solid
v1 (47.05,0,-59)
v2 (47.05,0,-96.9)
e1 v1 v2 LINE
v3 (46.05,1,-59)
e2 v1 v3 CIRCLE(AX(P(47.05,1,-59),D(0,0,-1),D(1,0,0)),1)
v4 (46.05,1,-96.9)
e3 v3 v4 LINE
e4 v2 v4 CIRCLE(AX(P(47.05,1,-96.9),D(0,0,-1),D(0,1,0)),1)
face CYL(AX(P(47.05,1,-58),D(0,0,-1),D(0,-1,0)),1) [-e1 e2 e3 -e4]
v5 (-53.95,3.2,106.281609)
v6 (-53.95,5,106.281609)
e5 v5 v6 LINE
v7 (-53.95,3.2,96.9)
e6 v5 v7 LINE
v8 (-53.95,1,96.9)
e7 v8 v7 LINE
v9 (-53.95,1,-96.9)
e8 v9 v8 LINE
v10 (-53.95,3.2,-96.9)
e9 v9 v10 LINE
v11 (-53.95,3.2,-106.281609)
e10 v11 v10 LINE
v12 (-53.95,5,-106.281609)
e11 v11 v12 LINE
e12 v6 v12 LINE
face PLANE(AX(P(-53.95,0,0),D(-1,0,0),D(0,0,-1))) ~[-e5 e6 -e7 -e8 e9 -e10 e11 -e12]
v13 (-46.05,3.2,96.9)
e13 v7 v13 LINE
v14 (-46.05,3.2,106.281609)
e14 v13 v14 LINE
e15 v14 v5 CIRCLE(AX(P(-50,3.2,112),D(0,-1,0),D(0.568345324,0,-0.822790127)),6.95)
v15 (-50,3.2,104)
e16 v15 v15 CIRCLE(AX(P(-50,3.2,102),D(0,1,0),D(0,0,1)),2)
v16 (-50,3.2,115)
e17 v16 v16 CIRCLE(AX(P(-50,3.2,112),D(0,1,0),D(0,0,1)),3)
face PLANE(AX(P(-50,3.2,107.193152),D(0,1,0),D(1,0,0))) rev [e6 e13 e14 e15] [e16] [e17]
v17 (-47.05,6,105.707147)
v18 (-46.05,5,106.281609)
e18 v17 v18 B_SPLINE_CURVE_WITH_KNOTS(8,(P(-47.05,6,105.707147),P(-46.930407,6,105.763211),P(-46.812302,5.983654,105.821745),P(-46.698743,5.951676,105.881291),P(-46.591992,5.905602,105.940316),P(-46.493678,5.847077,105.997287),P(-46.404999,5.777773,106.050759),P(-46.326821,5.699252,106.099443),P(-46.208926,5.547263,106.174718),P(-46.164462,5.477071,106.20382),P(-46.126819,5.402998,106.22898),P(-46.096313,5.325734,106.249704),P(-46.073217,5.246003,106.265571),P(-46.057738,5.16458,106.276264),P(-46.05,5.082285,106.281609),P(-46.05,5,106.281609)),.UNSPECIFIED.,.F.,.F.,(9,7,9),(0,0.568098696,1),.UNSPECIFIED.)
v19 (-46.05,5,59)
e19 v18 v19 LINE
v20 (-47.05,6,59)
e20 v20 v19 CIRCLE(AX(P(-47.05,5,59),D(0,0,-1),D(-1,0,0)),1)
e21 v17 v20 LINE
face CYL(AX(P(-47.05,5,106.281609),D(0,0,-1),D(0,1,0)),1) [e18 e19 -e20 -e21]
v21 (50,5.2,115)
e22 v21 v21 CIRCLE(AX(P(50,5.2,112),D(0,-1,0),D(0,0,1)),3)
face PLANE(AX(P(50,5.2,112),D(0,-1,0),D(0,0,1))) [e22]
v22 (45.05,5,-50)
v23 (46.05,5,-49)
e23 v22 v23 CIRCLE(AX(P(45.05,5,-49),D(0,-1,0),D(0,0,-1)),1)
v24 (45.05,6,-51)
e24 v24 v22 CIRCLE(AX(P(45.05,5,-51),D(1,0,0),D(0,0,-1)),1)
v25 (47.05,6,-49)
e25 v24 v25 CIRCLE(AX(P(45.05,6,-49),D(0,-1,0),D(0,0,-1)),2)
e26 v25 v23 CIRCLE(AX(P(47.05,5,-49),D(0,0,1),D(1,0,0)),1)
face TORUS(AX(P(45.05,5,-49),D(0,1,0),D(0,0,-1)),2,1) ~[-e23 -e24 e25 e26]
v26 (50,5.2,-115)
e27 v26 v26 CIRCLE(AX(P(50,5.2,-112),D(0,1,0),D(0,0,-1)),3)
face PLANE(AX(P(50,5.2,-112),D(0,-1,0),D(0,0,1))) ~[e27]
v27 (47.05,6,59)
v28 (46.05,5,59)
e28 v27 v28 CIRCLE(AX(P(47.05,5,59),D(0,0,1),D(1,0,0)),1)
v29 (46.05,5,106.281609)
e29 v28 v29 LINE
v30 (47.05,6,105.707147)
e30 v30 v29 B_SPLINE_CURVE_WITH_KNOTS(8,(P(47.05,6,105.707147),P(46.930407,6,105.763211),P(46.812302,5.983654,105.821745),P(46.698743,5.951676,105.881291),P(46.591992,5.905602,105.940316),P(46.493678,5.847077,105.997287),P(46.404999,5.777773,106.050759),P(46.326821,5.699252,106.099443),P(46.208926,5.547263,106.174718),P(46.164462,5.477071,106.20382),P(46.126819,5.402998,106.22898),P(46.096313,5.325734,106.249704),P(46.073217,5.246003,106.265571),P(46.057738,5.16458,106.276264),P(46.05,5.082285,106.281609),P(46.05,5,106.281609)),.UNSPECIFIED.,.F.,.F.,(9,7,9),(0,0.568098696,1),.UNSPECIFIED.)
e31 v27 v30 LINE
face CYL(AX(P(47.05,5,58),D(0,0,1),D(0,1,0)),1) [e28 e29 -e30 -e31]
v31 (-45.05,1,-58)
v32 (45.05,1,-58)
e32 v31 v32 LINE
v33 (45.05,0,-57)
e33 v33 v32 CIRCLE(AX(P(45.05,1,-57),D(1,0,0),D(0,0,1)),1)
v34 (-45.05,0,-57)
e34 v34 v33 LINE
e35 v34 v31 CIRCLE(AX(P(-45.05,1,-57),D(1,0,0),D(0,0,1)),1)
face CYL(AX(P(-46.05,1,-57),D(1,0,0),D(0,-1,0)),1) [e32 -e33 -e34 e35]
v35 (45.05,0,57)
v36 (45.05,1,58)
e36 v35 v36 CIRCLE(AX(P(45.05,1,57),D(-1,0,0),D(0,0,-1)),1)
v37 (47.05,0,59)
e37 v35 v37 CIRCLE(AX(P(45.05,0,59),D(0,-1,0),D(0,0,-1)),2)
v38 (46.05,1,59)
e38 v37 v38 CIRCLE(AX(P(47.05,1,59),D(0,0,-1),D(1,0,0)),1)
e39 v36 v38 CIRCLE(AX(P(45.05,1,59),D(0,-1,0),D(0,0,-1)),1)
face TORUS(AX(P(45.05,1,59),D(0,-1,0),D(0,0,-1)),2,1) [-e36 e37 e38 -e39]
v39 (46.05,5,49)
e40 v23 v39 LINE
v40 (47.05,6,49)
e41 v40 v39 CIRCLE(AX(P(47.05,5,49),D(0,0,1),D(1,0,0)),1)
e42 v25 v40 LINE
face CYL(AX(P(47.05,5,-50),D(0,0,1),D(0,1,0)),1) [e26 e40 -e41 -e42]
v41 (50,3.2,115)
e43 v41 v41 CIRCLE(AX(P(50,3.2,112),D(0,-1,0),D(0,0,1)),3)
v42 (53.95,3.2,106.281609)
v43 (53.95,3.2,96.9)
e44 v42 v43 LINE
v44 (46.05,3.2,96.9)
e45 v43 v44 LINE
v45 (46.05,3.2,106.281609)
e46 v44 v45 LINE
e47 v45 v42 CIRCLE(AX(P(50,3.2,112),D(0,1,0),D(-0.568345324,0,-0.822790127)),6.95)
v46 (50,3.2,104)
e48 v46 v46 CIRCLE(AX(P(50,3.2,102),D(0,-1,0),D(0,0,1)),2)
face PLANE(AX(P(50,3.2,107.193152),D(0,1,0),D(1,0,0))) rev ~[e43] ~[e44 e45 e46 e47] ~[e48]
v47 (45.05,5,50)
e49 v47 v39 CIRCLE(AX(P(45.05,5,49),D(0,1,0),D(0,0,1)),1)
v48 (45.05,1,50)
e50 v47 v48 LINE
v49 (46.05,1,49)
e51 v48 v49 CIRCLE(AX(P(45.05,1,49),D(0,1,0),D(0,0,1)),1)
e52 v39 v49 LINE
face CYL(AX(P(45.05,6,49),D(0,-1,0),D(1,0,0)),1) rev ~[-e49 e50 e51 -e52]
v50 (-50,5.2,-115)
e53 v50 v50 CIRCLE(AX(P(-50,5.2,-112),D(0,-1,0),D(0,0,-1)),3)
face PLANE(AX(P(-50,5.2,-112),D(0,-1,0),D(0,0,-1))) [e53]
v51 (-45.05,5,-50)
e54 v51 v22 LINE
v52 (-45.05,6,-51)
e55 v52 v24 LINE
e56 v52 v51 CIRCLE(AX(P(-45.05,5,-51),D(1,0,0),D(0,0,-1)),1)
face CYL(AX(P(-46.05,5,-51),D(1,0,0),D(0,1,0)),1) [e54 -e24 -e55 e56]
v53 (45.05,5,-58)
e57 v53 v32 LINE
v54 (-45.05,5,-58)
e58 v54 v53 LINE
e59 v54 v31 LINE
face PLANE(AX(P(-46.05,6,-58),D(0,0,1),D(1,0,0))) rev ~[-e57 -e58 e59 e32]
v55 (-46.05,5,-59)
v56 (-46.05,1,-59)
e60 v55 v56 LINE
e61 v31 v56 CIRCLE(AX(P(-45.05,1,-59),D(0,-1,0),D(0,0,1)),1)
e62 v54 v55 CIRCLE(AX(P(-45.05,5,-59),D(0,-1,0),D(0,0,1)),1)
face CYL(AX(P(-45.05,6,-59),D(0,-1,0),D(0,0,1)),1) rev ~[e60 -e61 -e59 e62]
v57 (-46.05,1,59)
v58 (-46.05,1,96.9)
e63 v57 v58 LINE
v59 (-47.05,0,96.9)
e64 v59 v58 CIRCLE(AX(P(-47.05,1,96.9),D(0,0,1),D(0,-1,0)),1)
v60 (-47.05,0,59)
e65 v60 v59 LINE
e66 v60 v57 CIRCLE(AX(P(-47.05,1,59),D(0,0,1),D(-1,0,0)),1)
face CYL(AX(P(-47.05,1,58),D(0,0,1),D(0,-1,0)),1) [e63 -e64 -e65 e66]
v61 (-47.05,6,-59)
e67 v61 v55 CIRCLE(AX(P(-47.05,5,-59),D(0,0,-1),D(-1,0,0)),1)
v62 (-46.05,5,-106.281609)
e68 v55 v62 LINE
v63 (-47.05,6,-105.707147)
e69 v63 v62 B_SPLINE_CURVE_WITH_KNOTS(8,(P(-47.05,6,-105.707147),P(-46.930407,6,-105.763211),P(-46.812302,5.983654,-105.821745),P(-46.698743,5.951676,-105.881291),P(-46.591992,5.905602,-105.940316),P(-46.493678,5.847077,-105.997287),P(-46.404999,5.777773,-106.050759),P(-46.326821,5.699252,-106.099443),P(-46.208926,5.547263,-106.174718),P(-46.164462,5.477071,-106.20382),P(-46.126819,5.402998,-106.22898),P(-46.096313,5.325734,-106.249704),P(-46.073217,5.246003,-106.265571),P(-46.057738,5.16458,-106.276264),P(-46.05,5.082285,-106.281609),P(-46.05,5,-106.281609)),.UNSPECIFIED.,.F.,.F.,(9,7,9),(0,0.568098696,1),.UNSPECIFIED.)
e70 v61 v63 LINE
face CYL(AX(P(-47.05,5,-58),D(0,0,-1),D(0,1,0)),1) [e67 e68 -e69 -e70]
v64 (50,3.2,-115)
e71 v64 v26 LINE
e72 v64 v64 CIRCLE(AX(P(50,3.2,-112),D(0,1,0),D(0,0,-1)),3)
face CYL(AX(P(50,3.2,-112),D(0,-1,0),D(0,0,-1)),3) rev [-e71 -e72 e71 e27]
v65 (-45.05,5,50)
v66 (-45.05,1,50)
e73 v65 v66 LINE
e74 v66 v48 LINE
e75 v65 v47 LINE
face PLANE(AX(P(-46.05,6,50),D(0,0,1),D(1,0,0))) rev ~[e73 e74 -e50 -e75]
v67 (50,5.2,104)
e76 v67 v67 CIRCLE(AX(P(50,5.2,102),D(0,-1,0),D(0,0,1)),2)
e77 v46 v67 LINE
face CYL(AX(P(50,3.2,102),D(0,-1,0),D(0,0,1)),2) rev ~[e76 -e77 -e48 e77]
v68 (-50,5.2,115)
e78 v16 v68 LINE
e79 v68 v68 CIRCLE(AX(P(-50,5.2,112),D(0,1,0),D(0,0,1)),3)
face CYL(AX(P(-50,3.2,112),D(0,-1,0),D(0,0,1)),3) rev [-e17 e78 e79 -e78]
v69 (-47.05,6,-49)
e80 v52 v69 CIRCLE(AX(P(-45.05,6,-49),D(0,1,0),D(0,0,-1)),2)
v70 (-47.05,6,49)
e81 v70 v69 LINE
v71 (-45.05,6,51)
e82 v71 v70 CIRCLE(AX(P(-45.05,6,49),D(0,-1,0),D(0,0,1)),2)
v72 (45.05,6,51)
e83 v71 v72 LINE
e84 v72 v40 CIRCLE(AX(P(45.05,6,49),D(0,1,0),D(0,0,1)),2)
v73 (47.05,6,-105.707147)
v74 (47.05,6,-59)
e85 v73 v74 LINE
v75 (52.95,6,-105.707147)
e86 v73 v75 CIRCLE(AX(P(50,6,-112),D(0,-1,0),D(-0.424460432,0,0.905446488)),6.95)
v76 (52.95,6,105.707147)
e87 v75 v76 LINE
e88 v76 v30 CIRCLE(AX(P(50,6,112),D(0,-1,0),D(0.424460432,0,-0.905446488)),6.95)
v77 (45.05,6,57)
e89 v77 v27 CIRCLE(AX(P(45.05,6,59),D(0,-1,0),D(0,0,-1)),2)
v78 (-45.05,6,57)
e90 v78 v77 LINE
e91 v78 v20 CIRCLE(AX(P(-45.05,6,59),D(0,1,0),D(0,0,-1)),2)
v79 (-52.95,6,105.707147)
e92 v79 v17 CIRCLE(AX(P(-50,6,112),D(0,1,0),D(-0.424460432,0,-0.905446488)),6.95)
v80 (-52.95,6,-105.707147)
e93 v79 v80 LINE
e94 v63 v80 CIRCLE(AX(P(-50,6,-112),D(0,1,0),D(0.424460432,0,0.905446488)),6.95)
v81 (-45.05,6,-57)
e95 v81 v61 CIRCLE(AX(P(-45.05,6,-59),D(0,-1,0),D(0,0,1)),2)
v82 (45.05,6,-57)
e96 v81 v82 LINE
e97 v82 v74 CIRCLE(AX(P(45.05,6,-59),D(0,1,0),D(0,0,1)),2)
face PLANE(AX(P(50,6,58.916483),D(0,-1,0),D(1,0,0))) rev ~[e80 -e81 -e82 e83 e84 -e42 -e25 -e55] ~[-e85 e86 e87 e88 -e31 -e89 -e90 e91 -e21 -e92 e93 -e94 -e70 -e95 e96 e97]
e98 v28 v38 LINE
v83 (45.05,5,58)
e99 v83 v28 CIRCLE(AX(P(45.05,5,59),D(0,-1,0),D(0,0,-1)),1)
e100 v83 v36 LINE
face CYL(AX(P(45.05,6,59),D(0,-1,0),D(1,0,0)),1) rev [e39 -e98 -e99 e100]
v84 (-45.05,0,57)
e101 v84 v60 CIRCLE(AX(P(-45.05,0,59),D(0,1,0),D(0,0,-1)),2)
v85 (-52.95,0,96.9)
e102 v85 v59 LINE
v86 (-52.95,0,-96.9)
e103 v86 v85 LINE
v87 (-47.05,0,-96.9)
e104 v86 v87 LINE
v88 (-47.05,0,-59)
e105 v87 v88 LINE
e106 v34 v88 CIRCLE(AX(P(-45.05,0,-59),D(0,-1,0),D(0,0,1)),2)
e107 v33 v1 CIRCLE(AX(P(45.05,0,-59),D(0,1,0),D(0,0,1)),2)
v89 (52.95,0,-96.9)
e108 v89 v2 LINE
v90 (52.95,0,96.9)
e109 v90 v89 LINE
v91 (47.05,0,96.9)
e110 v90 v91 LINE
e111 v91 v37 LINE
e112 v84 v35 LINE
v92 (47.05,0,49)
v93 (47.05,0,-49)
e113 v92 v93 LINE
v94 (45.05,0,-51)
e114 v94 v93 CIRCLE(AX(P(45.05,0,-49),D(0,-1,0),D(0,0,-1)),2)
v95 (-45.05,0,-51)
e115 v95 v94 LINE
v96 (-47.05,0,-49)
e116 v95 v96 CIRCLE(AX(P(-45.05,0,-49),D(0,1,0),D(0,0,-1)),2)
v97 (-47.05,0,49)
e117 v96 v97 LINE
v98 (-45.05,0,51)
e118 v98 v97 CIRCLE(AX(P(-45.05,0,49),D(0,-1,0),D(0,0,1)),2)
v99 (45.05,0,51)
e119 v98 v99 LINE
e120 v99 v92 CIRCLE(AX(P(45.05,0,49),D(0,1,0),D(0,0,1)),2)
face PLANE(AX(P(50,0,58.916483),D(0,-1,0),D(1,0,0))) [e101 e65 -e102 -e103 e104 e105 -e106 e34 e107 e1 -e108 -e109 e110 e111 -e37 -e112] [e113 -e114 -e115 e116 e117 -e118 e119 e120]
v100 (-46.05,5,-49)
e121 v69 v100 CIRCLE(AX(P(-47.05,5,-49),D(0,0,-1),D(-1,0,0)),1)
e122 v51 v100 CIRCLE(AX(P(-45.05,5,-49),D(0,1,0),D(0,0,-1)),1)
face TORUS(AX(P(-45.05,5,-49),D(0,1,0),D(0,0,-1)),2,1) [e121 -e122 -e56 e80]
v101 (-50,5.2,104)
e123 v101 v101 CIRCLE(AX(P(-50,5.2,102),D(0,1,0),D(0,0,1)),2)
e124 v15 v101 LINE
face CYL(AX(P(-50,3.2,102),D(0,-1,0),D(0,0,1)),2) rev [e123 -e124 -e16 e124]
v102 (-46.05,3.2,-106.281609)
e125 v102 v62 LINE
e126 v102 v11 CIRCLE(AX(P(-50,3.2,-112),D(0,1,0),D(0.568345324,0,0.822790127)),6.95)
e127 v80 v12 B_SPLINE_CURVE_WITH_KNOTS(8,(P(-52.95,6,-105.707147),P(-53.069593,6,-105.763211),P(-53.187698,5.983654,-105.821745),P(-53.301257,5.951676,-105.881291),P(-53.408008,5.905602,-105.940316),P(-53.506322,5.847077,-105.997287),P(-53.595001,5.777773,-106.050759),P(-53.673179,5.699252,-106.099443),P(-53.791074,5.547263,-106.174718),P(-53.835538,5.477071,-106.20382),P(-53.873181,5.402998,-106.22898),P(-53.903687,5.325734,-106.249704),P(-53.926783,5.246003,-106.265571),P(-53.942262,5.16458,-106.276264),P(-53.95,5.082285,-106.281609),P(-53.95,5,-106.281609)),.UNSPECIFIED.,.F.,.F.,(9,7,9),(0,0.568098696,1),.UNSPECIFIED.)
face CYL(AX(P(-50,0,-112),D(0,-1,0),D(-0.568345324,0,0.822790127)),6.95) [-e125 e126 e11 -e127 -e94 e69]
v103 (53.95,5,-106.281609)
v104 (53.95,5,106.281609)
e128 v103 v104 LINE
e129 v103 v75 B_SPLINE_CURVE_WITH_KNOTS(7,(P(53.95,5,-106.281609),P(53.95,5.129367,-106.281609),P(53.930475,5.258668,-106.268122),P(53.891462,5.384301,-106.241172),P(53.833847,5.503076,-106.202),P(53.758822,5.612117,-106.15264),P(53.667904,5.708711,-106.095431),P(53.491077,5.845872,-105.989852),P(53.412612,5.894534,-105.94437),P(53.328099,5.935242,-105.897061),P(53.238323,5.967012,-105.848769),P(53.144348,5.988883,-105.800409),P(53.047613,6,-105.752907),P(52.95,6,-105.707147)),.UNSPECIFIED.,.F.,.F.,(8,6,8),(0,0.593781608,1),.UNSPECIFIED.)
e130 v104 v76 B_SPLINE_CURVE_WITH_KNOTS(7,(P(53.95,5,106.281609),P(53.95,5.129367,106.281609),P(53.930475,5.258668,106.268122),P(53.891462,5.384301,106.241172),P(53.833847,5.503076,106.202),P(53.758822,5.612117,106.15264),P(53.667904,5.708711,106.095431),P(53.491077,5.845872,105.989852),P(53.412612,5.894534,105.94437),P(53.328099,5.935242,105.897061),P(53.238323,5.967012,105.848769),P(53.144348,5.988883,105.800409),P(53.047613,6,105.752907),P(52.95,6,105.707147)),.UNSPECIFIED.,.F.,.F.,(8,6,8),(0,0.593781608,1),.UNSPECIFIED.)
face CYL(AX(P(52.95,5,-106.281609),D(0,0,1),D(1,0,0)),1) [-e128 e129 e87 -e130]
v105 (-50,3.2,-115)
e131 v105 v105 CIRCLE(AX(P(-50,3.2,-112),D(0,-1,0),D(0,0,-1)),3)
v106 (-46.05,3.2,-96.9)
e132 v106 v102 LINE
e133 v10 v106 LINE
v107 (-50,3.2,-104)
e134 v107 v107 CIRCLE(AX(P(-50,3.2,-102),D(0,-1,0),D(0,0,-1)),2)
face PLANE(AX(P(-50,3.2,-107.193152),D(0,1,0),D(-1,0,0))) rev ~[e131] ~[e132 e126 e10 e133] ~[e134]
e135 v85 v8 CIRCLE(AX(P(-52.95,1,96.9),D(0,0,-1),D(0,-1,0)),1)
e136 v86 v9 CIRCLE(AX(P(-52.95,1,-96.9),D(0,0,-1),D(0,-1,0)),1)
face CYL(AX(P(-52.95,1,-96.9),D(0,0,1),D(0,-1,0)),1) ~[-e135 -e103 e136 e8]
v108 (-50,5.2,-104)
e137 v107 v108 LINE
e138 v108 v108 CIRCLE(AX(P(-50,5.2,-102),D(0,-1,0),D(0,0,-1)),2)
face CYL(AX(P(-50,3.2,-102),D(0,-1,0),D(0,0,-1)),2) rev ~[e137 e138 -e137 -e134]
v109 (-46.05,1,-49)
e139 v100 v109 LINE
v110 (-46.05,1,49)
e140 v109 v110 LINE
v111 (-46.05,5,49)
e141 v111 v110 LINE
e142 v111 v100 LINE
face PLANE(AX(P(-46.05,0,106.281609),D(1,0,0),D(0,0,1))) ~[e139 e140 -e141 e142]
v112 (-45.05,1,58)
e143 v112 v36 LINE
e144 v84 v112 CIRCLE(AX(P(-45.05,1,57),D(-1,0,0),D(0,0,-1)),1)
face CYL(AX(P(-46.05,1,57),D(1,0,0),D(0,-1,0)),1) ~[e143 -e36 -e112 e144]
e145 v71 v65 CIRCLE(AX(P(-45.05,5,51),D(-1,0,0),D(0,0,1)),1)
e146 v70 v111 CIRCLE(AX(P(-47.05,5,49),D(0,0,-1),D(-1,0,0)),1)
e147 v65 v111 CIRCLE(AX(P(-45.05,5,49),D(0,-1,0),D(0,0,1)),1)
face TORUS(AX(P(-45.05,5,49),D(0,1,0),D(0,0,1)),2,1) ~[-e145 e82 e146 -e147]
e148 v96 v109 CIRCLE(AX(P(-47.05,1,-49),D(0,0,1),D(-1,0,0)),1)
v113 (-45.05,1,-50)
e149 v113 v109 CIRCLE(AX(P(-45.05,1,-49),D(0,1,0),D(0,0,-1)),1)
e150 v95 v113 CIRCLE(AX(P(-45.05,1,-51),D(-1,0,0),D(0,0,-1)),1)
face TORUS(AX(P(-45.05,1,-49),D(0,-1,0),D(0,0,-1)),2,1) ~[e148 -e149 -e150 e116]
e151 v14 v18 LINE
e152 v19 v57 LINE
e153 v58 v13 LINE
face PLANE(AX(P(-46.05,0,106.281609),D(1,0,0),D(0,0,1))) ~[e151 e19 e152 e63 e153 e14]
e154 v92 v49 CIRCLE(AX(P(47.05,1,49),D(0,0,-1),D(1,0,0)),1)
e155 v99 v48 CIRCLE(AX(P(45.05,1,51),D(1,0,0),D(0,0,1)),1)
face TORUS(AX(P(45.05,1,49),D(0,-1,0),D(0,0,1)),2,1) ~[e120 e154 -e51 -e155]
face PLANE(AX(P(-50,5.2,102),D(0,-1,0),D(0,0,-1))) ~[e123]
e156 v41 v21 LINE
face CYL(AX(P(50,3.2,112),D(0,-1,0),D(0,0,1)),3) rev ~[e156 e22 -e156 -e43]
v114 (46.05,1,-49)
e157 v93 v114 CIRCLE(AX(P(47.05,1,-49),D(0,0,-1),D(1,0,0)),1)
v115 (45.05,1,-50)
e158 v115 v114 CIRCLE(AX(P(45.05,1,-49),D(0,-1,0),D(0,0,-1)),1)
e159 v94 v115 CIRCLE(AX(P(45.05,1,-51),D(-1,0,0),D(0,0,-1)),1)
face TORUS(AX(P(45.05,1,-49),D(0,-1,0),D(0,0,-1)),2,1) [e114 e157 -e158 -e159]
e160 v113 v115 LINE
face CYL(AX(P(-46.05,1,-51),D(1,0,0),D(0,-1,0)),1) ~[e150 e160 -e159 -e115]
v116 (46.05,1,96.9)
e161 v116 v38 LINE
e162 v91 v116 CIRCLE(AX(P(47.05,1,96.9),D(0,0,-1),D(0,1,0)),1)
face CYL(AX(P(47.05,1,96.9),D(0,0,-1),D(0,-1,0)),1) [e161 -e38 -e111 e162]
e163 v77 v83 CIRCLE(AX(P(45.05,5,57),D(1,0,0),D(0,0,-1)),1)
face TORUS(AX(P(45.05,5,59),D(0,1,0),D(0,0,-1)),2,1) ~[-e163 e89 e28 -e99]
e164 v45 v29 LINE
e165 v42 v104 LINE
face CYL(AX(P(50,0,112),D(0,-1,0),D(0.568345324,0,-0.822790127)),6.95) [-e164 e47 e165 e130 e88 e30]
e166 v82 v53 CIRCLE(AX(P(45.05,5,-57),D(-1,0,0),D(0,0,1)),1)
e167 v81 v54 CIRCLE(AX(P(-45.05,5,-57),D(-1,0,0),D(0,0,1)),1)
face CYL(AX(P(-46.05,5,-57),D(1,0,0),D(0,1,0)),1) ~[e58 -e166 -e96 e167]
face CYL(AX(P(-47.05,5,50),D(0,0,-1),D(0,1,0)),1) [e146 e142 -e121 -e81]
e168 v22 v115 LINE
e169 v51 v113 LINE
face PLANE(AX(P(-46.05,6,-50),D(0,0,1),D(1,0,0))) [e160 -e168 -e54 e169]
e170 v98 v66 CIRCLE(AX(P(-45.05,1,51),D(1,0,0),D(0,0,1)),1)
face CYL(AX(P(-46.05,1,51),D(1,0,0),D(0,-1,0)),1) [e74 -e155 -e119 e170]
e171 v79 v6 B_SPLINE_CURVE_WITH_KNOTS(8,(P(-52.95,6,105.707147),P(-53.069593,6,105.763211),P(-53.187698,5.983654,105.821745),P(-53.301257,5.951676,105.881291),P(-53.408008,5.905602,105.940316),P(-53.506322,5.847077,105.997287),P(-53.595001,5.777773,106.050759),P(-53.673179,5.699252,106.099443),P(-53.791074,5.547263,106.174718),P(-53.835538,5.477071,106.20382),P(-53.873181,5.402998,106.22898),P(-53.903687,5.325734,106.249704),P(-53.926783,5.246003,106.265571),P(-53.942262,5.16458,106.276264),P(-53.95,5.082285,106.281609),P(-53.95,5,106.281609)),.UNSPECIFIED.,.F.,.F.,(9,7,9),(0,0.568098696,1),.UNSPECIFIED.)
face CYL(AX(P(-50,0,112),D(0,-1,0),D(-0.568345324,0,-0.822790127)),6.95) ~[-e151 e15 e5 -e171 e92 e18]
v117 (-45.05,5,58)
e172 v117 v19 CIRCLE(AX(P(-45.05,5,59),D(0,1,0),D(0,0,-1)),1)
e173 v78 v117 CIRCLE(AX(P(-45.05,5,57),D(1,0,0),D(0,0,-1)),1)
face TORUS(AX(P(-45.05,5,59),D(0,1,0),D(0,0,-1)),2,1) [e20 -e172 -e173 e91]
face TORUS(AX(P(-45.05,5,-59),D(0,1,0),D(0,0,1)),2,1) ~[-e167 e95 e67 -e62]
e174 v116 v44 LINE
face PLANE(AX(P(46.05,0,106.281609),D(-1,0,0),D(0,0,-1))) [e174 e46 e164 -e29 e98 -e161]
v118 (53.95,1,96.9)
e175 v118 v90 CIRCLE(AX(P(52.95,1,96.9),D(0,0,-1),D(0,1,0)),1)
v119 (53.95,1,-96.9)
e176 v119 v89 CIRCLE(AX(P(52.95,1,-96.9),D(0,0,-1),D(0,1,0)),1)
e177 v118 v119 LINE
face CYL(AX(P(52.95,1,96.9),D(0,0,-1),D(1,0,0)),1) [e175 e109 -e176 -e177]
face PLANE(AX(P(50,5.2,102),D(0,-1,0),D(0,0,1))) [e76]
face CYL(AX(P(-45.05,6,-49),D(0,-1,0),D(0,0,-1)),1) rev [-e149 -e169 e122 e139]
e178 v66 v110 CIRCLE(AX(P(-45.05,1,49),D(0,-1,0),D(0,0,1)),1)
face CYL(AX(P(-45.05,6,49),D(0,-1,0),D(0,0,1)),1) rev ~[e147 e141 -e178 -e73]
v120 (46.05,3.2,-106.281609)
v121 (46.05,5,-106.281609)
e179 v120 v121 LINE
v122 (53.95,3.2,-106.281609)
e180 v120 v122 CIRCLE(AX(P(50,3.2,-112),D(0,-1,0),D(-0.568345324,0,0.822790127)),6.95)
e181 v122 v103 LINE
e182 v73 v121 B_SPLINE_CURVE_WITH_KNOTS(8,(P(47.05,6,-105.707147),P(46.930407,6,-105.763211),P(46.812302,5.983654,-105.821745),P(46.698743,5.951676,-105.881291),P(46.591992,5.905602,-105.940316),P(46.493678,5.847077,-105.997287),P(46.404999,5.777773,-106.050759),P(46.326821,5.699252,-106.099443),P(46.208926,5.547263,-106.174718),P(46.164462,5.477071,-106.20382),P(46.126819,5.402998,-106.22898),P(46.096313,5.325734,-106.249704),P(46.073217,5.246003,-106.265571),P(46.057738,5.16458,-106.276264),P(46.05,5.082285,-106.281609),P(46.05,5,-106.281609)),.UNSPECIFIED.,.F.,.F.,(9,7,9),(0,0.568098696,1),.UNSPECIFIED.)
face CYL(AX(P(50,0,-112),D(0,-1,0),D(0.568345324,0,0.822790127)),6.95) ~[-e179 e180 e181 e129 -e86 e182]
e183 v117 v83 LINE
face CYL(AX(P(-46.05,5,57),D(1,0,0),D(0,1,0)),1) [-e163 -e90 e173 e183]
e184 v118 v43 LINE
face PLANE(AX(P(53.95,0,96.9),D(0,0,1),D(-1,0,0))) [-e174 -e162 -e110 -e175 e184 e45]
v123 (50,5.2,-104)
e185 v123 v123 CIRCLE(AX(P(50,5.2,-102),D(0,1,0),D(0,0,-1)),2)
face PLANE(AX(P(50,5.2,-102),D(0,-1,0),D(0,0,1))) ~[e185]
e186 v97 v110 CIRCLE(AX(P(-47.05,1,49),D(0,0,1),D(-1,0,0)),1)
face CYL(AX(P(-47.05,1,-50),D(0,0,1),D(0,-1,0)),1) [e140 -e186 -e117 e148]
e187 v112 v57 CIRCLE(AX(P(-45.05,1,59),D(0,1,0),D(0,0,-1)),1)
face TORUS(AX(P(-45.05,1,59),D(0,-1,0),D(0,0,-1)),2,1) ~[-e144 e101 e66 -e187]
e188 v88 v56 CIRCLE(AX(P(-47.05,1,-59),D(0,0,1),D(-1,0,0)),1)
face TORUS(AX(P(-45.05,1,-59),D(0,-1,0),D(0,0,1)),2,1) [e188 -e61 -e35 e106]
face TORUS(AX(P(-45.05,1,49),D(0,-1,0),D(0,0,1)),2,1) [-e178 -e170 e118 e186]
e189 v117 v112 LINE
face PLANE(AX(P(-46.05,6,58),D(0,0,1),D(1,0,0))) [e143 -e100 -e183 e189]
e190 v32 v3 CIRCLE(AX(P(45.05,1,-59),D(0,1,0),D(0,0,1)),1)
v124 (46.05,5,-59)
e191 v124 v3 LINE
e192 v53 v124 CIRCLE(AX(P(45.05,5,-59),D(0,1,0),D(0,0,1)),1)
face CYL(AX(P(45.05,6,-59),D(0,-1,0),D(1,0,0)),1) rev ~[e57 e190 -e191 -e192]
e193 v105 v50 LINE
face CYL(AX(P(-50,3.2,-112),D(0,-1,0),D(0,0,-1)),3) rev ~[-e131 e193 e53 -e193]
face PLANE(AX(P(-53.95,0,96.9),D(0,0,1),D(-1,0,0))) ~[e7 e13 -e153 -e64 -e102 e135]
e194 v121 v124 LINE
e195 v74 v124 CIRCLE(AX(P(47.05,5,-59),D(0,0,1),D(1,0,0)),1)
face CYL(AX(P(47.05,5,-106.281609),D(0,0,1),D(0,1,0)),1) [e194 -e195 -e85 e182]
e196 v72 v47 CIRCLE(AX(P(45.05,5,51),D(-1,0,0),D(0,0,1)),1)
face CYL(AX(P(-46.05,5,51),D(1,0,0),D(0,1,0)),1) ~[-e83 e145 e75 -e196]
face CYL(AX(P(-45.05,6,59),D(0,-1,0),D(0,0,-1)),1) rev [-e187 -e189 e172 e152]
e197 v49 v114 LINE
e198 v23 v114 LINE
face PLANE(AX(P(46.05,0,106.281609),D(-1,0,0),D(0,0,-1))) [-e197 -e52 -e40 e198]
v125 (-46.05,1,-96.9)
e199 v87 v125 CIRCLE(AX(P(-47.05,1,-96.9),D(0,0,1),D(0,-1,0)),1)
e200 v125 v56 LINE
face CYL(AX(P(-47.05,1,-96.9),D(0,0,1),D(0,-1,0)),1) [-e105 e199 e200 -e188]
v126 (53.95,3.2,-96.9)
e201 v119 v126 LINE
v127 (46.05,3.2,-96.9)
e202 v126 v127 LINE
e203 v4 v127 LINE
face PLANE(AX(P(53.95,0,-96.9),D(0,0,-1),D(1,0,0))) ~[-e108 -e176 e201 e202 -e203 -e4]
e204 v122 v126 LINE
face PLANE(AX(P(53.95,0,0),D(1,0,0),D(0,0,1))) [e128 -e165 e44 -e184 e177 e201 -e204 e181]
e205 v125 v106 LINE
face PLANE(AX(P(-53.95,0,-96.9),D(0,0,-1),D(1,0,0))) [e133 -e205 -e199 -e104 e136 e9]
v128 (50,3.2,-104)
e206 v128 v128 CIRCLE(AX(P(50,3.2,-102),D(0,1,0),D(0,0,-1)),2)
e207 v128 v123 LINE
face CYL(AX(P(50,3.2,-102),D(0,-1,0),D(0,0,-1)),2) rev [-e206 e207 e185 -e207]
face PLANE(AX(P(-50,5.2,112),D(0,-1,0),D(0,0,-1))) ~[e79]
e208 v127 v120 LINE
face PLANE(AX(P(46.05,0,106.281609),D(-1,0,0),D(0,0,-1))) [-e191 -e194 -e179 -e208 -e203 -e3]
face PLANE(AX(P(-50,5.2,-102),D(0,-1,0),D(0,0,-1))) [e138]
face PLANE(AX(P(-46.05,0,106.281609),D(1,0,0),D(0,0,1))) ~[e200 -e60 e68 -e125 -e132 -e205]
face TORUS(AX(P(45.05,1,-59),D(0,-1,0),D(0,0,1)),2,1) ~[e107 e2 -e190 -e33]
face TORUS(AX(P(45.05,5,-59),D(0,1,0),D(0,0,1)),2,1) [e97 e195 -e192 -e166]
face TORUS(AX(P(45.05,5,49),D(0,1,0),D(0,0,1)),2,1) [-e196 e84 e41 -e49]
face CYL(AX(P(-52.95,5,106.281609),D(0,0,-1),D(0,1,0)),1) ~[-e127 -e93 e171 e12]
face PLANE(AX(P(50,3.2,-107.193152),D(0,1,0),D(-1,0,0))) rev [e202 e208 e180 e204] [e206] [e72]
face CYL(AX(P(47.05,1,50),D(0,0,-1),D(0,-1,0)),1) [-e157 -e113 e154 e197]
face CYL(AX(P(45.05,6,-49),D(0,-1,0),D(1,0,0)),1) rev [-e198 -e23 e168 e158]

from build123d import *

# Parameters (mm, degrees)
BOSS_EXTRUDE1_DEPTH = 6
CUT_EXTRUDE1_DEPTH  = 3.2
SKETCH4_R           = 3
SKETCH4_R_2         = 2
CUT_EXTRUDE2_DEPTH  = 2
SKETCH2_W           = 92.1
SKETCH2_H           = 8
BOSS_EXTRUDE2_DEPTH = 6
FILLET1_R           = 1


with BuildPart() as part:
    # Sketch1 → Boss-Extrude1 (new body)
    with BuildSketch(Plane(origin=(0, 0, 0), x_dir=(1, 0, 0), z_dir=(0, 1, 0))):
        with BuildLine():
            Line((-53.95, 0), (-53.95, 106.281608618))
            ThreePointArc((-53.95, 106.281608618), (-50, 118.95), (-46.05, 106.281608618))
            Line((-46.05, 106.281608618), (-46.05, 0))
            Line((-46.05, 0), (-53.95, 0))
        make_face()
    extrude(amount=BOSS_EXTRUDE1_DEPTH)

    # Sketch3 → Cut-Extrude1 (cut)
    with BuildSketch(Plane.XZ):
        with BuildLine():
            Line((-53.95, -106.281608618), (-53.95, -96.9))
            Line((-53.95, -96.9), (-46.05, -96.9))
            Line((-46.05, -96.9), (-46.05, -106.281608618))
            ThreePointArc((-46.05, -106.281608618), (-50, -118.95), (-53.95, -106.281608618))
        make_face()
    extrude(amount=-CUT_EXTRUDE1_DEPTH, mode=Mode.SUBTRACT)

    # Sketch4 → Cut-Extrude2 (cut)
    with BuildSketch(Plane.XZ.offset(-3.2)):
        with Locations(Location((-50, -112, 0), (0, 0, 270))):
            Circle(SKETCH4_R)
        with Locations(Location((-50, -102, 0), (0, 0, 270))):
            Circle(SKETCH4_R_2)
    extrude(amount=-CUT_EXTRUDE2_DEPTH, mode=Mode.SUBTRACT)


with BuildPart() as body_2:
    # Mirror3: mirrored copy
    add(part.part.mirror(Plane(origin=(0, 0, 0), x_dir=(0, 0, 1), z_dir=(1, 0, 0))))

    # Mirror4 2: body 2 across plane


with BuildPart() as part_1:
    add(part.part)

    # Mirror4: part across plane
    add(part.part.mirror(Plane.XY))



with BuildPart() as body_2_1:
    add(body_2.part)
    add(body_2.part.mirror(Plane.XY))


with BuildPart() as part_2:
    add(part_1.part)

    add(body_2_1.part)  # Boss-Extrude2 merges body 2
    # Sketch2 → Boss-Extrude2 (add)
    with BuildSketch(Plane(origin=(0, 6, 0), x_dir=(1, 0, 0), z_dir=(0, 1, 0))):
        with Locations((0, 54)):
            Rectangle(SKETCH2_W, SKETCH2_H)
        with Locations((0, -54)):
            Rectangle(SKETCH2_W, SKETCH2_H)
    extrude(amount=-BOSS_EXTRUDE2_DEPTH)

    # Fillet1
    fillet1_edges = [part_2.edges().sort_by_distance(p)[0] for p in [
        (-46.05, 0, 0),
        (-46.05, 6, 0),
        (46.05, 3, 50),
        (46.05, 3, 58),
        (-46.05, 3, 58),
        (-46.05, 3, 50),
        (0, 6, 50),
        (0, 6, 58),
        (0, 0, 58),
        (0, 0, 50),
        (-53.95, 0, 0),
        (-53.95, 6, 0),
        (-46.05, 0, 77.45),
        (-46.05, 0, -77.45),
        (-46.05, 6, -82.140804309),
        (-46.05, 3, -50),
        (-46.05, 3, -58),
        (46.05, 3, -58),
        (46.05, 3, -50),
        (0, 6, -50),
        (0, 6, -58),
        (0, 0, -58),
        (0, 0, -50),
        (46.05, 6, -82.140804309),
        (46.05, 6, 82.140804309),
        (53.95, 6, 0),
        (53.95, 0, 0),
        (46.05, 0, 77.45),
        (46.05, 0, -77.45),
        (-46.05, 6, 82.140804309),
        (46.05, 0, 0),
        (46.05, 6, 0),
    ]]
    fillet(fillet1_edges, radius=FILLET1_R)


solid = part_2.part
